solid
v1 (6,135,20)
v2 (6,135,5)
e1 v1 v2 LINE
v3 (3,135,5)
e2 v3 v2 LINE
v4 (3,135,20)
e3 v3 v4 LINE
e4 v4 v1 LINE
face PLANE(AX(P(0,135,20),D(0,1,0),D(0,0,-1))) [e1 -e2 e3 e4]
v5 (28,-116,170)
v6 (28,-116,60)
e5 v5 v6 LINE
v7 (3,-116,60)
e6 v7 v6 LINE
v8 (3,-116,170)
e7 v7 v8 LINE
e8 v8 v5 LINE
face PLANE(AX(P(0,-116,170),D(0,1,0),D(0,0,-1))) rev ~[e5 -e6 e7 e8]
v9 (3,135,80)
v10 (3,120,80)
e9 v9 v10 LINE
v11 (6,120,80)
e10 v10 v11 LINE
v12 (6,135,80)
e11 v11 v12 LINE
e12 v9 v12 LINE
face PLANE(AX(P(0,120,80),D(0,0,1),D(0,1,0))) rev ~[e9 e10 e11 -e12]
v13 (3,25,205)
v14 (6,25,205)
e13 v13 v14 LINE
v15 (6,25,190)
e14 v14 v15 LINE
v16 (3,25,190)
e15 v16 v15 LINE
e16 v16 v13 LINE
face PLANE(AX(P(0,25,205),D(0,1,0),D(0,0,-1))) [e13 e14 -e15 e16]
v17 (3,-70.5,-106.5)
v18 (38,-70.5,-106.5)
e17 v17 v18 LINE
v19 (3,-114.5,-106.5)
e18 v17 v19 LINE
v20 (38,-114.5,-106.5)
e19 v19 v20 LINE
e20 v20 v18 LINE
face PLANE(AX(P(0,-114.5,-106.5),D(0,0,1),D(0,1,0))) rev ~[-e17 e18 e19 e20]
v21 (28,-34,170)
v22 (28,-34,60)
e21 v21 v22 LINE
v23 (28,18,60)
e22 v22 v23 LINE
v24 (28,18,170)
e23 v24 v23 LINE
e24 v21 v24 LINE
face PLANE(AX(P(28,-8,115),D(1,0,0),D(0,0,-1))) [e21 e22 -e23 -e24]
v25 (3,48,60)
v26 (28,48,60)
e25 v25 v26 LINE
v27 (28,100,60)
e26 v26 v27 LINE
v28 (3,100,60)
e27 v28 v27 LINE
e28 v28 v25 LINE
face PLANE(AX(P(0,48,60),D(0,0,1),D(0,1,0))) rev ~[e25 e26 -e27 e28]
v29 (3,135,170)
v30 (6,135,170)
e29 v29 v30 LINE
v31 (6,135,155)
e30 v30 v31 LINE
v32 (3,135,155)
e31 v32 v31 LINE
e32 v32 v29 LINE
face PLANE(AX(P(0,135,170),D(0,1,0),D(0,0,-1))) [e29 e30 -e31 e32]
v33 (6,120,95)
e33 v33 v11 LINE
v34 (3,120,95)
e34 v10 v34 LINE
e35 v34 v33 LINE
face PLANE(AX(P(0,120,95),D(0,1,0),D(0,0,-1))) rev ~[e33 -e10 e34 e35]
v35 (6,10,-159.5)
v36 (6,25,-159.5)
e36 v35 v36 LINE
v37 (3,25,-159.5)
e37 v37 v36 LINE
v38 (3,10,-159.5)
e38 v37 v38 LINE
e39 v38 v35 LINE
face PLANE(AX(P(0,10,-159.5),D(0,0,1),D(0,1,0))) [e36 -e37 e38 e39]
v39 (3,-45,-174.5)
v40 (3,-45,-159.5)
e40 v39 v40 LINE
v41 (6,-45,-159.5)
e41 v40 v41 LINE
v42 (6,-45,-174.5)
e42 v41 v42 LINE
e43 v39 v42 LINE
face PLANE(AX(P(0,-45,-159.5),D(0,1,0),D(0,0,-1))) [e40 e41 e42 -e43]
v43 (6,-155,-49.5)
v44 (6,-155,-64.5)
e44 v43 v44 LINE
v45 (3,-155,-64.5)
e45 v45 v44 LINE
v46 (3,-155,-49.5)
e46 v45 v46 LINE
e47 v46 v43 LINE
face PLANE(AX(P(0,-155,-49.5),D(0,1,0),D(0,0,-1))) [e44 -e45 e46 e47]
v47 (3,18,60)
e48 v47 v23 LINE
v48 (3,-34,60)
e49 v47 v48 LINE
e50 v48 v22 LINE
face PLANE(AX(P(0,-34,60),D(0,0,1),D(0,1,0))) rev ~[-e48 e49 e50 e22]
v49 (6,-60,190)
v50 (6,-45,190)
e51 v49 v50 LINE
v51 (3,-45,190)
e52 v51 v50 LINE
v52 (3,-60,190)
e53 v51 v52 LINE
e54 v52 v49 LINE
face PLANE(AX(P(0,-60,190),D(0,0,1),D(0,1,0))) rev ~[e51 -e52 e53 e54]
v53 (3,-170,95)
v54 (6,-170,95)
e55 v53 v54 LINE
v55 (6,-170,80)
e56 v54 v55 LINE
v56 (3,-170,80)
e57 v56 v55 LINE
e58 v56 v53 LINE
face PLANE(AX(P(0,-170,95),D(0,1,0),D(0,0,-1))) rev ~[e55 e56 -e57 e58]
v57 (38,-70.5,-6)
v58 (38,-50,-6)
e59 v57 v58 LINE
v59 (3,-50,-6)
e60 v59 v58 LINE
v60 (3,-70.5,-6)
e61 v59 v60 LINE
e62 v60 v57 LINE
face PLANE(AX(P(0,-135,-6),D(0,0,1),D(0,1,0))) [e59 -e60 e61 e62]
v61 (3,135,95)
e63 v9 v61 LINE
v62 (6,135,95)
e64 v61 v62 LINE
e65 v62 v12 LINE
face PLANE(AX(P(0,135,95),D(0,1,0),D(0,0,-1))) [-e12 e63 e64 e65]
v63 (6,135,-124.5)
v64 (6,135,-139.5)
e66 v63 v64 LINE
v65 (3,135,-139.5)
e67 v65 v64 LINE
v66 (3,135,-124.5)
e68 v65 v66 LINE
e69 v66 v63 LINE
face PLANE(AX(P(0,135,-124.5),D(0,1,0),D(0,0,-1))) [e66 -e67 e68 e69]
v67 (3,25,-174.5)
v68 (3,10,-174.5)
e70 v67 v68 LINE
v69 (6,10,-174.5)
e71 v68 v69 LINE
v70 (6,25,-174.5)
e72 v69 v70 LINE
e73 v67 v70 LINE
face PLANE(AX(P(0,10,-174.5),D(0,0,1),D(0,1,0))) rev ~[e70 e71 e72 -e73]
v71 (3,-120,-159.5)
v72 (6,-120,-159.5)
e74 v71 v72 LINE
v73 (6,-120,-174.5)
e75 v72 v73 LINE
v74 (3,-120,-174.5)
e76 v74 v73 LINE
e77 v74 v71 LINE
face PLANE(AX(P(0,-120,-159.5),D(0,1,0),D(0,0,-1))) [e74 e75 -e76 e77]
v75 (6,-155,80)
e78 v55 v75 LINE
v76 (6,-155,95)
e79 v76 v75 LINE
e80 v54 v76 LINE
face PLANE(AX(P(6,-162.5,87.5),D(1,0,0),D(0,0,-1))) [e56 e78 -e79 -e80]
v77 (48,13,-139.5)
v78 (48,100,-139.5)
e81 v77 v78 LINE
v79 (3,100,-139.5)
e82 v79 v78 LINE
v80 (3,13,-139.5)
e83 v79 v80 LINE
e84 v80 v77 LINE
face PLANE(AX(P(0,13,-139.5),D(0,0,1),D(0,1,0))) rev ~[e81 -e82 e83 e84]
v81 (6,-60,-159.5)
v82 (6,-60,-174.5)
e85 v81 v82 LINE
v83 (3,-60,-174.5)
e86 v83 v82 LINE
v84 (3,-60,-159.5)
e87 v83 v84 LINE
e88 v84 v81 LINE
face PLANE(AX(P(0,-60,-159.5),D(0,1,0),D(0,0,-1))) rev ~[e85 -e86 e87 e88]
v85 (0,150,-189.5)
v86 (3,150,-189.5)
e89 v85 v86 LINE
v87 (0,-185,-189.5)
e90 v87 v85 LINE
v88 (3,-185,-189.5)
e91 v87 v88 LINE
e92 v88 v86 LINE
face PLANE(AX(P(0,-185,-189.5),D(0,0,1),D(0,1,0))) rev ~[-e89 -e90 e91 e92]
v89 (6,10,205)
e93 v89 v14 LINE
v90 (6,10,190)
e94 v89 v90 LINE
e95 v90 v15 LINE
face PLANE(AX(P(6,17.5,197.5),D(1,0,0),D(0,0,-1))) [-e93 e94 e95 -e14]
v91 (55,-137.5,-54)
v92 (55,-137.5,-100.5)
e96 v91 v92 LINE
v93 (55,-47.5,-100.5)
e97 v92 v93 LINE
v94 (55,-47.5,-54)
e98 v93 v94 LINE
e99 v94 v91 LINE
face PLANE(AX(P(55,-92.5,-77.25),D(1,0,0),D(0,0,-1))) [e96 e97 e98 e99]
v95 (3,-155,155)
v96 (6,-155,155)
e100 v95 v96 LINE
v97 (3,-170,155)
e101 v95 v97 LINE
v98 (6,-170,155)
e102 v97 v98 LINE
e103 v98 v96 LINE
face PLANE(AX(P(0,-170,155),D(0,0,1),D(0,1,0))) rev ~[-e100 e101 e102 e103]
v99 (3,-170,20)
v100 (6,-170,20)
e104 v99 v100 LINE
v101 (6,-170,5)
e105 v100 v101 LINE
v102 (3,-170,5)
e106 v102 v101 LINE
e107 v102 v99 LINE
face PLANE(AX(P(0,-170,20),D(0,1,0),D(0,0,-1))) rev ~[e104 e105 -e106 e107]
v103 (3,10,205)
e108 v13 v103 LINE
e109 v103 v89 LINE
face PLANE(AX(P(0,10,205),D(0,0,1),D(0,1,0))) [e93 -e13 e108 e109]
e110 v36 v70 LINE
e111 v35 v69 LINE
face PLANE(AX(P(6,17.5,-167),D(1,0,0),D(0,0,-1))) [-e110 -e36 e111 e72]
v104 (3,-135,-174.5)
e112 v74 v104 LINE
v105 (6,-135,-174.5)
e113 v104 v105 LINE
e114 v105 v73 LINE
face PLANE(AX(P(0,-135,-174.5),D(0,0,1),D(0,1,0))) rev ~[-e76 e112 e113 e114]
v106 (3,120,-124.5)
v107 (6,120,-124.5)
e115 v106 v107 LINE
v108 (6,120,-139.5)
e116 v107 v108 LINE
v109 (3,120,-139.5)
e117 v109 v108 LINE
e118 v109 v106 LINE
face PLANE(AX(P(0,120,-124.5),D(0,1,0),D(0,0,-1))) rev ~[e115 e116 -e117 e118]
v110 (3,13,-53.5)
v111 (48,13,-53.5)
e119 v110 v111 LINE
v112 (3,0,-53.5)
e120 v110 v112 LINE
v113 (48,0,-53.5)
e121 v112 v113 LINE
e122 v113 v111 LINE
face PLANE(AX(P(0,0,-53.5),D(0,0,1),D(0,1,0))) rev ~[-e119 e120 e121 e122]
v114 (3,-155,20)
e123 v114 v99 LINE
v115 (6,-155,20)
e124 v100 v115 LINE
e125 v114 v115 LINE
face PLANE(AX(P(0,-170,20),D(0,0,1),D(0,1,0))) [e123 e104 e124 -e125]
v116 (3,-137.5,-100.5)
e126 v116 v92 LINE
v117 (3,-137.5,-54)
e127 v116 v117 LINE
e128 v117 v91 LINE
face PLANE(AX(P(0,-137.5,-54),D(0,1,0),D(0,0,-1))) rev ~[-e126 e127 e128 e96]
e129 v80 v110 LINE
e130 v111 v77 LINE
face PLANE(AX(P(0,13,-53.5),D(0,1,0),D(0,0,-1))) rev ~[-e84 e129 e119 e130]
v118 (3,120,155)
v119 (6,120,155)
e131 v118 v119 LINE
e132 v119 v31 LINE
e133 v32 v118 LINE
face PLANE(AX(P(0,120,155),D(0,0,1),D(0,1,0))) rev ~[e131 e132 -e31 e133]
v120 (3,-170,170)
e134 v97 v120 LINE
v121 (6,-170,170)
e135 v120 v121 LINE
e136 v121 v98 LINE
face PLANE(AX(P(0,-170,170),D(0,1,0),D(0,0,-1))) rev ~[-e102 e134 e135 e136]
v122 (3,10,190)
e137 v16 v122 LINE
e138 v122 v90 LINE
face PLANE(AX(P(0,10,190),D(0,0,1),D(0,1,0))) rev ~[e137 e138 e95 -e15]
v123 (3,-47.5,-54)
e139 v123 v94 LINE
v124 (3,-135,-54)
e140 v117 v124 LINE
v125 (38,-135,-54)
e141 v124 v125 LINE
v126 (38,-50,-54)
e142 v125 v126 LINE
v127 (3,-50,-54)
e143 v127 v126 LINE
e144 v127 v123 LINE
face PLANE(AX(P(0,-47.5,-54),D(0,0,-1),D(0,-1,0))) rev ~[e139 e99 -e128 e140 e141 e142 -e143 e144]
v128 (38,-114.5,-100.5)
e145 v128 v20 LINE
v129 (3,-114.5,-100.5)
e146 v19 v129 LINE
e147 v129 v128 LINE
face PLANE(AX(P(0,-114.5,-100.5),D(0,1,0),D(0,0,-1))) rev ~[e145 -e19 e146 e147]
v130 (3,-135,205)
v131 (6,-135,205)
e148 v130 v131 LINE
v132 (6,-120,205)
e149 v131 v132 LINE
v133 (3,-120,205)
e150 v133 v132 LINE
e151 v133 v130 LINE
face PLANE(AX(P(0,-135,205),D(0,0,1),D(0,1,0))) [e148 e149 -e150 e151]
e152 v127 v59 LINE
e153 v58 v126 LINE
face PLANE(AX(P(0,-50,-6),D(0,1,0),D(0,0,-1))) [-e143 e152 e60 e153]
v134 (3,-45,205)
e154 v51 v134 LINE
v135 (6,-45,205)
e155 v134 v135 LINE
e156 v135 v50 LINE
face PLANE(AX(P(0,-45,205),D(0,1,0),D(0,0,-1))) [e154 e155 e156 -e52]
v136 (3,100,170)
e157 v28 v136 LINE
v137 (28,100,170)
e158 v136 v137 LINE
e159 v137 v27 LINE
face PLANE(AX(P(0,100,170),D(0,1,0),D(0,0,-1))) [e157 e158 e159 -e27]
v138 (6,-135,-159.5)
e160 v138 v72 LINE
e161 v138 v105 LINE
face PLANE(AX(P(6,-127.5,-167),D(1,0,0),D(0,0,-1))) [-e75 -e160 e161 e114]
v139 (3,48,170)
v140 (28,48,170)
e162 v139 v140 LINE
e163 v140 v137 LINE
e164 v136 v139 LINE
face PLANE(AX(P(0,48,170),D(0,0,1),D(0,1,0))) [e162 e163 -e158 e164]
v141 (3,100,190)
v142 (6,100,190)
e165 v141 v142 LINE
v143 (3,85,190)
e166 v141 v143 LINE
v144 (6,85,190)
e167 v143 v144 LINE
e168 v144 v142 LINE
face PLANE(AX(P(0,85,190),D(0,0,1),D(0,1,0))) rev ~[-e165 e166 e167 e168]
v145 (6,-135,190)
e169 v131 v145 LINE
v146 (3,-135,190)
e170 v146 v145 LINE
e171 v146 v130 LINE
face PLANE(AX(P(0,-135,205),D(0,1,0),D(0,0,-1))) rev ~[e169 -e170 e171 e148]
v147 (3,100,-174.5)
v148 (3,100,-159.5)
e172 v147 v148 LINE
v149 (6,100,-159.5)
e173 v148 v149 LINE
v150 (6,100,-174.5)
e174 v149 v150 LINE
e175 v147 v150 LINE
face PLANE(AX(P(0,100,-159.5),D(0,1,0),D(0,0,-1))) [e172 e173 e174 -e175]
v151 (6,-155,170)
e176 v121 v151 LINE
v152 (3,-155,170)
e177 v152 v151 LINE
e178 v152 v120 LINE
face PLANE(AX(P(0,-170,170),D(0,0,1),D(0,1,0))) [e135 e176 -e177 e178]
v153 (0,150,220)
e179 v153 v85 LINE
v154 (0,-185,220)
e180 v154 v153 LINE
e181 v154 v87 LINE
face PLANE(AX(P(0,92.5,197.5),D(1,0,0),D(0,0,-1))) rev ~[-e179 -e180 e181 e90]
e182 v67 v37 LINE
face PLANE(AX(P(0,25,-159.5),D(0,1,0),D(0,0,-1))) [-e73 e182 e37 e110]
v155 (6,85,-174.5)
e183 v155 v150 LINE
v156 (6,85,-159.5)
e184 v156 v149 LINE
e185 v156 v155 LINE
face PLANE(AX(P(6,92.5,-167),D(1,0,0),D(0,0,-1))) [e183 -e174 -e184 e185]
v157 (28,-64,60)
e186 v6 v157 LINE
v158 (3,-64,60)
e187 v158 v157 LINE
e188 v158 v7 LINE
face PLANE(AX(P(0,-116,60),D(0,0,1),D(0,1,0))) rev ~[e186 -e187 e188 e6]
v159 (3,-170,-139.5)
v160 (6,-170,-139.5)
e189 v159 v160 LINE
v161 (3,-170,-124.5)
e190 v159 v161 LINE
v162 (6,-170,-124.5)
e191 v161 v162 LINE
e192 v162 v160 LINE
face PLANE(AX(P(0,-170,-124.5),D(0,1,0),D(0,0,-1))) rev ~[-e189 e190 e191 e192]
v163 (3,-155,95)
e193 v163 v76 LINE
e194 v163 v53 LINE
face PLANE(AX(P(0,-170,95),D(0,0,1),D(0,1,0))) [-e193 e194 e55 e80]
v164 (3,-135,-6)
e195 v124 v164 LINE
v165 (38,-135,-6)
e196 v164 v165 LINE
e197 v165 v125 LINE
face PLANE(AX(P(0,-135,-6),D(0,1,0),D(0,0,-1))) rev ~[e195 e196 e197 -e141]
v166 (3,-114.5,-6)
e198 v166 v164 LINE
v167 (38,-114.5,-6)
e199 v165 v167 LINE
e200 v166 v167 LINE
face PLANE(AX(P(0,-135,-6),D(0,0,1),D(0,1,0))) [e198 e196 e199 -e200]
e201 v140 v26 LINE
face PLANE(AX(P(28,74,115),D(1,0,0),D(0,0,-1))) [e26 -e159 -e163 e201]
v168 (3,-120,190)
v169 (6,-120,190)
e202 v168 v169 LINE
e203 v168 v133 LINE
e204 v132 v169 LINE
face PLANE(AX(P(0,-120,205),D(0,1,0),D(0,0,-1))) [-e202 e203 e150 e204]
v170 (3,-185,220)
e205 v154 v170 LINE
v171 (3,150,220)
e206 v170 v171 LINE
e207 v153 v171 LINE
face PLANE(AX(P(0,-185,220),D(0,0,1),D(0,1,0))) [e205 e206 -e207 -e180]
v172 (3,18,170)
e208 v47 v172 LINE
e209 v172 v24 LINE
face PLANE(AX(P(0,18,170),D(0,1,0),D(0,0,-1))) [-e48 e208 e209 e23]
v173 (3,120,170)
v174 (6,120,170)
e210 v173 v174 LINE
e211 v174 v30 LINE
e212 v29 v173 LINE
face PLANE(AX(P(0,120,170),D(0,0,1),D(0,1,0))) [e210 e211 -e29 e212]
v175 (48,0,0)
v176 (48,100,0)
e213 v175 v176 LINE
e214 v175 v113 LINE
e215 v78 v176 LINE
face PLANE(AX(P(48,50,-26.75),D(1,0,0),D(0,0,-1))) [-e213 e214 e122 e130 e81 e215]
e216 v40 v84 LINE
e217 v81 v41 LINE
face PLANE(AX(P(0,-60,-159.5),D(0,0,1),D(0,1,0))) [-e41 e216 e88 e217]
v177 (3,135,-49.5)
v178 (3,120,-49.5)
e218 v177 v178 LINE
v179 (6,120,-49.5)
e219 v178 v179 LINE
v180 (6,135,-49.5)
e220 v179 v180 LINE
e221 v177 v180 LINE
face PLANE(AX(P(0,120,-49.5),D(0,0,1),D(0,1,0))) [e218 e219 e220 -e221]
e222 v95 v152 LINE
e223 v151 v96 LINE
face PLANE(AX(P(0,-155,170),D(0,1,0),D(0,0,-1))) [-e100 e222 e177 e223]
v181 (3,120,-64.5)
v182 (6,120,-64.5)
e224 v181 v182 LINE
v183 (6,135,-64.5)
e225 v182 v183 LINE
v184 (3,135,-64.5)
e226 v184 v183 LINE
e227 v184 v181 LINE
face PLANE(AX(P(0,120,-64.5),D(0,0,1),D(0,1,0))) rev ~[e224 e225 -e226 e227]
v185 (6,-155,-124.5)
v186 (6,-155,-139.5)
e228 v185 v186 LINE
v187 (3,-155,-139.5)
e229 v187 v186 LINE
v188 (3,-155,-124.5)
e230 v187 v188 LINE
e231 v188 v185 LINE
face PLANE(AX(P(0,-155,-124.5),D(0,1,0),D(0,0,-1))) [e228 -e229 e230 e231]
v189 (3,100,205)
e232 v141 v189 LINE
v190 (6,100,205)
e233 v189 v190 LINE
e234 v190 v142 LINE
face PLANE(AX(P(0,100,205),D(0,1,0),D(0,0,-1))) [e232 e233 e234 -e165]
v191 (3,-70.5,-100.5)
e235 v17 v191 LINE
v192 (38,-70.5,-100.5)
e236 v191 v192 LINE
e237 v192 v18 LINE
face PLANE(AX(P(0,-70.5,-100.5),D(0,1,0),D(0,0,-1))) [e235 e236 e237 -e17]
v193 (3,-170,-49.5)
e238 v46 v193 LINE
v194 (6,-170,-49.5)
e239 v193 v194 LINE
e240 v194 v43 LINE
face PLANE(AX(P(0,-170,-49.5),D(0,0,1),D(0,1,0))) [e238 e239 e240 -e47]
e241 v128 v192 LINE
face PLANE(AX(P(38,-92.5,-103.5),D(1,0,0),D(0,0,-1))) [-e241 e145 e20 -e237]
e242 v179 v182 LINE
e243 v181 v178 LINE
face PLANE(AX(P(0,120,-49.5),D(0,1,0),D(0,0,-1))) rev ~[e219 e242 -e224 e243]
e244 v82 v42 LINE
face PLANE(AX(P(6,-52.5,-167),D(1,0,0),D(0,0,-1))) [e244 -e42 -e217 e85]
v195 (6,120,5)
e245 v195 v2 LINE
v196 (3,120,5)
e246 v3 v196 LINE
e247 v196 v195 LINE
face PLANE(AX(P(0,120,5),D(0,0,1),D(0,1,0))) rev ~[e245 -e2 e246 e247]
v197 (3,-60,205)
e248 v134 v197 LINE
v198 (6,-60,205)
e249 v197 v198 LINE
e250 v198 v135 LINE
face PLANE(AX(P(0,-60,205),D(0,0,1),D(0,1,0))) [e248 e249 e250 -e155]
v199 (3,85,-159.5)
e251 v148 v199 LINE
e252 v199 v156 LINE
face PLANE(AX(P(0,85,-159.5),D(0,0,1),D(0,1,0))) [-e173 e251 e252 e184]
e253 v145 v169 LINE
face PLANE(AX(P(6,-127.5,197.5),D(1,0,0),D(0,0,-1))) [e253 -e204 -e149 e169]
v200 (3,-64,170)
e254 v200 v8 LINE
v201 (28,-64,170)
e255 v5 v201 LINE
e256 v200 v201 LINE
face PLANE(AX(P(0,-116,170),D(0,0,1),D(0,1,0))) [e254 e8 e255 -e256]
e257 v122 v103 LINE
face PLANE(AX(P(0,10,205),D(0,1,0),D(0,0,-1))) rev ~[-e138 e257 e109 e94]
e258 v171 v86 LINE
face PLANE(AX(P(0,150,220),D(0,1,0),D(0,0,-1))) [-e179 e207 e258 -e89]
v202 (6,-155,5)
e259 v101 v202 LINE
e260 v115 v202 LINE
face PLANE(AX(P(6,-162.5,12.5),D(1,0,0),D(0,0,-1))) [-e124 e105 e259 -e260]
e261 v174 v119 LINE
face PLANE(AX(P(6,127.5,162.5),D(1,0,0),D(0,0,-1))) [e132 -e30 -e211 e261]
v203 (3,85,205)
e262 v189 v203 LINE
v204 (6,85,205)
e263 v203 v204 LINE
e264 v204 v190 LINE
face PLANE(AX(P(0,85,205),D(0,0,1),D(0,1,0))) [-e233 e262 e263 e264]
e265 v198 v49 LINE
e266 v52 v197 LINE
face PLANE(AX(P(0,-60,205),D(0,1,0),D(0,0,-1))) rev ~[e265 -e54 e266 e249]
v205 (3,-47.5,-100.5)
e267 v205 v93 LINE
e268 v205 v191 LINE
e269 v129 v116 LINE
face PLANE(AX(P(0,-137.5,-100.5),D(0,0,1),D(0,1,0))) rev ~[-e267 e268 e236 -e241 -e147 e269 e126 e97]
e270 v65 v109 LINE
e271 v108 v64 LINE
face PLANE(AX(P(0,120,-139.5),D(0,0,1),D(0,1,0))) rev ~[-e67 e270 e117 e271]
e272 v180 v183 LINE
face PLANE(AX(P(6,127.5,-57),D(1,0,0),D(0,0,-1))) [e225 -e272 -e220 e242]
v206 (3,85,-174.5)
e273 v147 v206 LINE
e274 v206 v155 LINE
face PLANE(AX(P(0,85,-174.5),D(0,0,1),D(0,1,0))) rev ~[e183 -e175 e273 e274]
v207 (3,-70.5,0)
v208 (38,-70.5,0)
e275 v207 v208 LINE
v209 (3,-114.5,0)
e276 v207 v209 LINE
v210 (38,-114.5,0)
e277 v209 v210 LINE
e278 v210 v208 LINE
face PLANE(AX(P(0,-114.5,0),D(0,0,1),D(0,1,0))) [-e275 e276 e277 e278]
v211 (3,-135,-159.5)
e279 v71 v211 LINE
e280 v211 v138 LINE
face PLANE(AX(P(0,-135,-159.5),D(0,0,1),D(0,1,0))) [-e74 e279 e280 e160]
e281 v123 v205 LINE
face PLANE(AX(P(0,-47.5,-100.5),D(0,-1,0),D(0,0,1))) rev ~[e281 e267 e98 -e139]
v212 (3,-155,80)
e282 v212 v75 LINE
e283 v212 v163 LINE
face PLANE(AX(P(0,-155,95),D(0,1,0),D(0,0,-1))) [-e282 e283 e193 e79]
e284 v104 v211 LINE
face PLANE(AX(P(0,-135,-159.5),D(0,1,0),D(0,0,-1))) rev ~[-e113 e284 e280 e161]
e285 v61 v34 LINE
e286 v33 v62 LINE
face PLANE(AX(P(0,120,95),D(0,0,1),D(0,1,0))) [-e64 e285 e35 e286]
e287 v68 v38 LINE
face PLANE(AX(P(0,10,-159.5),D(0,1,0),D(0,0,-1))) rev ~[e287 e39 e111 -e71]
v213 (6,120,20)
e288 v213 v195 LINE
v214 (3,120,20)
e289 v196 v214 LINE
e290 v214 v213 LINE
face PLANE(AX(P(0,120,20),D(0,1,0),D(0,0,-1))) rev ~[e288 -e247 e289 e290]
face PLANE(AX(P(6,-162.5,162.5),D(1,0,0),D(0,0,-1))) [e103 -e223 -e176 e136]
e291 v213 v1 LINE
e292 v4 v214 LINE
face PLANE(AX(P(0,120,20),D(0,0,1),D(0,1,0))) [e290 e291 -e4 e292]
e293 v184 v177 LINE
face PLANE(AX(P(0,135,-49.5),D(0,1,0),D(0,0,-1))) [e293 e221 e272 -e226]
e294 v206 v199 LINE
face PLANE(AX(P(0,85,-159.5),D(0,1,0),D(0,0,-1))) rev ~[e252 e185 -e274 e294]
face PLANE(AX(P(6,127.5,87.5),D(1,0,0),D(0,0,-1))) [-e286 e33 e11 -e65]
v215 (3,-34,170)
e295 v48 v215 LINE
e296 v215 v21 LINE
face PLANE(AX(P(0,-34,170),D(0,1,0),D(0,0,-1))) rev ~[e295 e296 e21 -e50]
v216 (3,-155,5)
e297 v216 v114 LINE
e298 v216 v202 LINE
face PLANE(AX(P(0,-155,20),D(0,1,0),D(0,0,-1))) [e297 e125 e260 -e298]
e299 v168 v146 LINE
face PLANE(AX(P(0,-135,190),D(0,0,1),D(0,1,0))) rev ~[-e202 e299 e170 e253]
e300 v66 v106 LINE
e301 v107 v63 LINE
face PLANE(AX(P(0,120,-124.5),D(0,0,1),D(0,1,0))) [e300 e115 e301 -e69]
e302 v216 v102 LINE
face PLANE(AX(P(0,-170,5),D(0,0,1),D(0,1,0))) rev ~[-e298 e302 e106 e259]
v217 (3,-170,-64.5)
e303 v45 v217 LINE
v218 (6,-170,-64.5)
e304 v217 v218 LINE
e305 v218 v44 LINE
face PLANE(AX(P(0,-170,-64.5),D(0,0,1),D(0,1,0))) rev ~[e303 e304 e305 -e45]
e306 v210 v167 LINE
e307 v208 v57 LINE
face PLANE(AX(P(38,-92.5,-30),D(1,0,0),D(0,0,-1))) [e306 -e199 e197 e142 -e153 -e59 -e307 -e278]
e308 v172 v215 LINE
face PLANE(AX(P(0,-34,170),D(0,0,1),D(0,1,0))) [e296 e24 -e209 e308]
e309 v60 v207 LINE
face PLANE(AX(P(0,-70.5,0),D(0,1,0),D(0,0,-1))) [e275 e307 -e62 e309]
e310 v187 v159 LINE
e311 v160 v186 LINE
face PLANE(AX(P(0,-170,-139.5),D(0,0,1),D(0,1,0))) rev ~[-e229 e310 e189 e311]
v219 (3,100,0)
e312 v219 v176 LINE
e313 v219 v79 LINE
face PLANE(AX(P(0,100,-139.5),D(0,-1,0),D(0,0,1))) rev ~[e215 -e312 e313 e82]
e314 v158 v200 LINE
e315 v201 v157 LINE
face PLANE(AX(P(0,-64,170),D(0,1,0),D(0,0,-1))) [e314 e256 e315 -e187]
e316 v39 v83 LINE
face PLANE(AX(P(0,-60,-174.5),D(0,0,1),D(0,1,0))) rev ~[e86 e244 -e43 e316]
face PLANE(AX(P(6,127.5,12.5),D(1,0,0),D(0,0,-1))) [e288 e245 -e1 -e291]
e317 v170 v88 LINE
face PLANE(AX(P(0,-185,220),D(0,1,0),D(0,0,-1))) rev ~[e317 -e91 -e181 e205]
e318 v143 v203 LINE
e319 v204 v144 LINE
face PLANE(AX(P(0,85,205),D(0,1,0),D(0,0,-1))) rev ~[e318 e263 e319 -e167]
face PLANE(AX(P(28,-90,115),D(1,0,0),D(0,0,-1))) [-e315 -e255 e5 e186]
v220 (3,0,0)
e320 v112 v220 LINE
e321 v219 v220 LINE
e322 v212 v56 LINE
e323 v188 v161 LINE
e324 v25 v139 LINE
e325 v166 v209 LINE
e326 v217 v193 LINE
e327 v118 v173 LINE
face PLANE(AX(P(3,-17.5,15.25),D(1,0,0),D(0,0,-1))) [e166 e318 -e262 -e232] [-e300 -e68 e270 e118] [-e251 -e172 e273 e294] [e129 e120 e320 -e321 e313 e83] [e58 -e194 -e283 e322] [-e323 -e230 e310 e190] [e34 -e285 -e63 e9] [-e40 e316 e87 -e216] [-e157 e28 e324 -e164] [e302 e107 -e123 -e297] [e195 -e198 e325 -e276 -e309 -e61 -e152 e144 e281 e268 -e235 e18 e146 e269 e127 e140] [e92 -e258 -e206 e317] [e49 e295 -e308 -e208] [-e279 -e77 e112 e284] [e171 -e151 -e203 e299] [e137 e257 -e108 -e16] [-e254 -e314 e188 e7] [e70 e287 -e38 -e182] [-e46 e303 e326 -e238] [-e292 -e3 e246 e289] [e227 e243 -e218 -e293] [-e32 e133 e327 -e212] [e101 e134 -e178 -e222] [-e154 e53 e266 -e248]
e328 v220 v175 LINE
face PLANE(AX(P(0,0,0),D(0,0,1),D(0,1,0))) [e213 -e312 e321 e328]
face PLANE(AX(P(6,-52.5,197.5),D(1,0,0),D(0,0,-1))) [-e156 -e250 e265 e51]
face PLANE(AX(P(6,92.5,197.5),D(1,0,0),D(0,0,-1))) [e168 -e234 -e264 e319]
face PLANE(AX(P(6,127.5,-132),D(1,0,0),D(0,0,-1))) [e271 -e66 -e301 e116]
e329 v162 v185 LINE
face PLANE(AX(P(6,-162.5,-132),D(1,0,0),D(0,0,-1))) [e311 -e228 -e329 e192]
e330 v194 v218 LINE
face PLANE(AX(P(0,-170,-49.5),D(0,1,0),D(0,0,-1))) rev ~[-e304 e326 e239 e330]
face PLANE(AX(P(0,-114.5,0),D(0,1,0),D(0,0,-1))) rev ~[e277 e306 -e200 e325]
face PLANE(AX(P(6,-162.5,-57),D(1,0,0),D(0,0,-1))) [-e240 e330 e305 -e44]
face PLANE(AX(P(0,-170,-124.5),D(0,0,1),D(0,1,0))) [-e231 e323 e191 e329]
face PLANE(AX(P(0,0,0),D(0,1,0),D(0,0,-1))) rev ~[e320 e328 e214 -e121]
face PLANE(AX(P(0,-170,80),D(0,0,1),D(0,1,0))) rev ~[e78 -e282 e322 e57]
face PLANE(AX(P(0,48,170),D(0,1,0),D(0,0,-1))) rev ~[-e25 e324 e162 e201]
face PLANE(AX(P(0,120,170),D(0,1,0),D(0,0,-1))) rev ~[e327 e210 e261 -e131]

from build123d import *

# Parameters (mm, degrees)
SKETCH1_W           = 409.5
SKETCH1_H           = 335
BOSS_EXTRUDE1_DEPTH = 3
SKETCH1_3_W         = 110
SKETCH1_3_H         = 52
BOSS_EXTRUDE2_DEPTH = 28
BOSS_EXTRUDE3_DEPTH = 48
BOSS_EXTRUDE4_DEPTH = 38
BOSS_EXTRUDE5_DEPTH = 55
SKETCH1_9_W         = 6
SKETCH1_9_H         = 44
BOSS_EXTRUDE6_DEPTH = 38
SKETCH1_10_W        = 15
SKETCH1_10_H        = 15
BOSS_EXTRUDE7_DEPTH = 6


with BuildPart() as part:
    # Sketch1 → Boss-Extrude1 (new body)
    with BuildSketch(Plane(origin=(0, 0, 0), x_dir=(0, 0, -1), z_dir=(1, 0, 0))):
        with Locations((-15.25, -17.5)):
            Rectangle(SKETCH1_W, SKETCH1_H)
    extrude(amount=BOSS_EXTRUDE1_DEPTH)

    # Sketch1<3> → Boss-Extrude2 (add)
    with BuildSketch(Plane(origin=(0, 0, 0), x_dir=(0, 0, -1), z_dir=(1, 0, 0))):
        with Locations((-115, 74)):
            Rectangle(SKETCH1_3_W, SKETCH1_3_H)
        with Locations((-115, -8)):
            Rectangle(SKETCH1_3_W, SKETCH1_3_H)
        with Locations((-115, -90)):
            Rectangle(SKETCH1_3_W, SKETCH1_3_H)
    extrude(amount=BOSS_EXTRUDE2_DEPTH)

    # Sketch1<6> → Boss-Extrude3 (add)
    with BuildSketch(Plane(origin=(0, 0, 0), x_dir=(0, 0, -1), z_dir=(1, 0, 0))):
        Polygon((139.5, 100), (0, 100), (0, 0), (53.5, 0), (53.5, 13), (139.5, 13), align=None)
    extrude(amount=BOSS_EXTRUDE3_DEPTH)

    # Sketch1<7> → Boss-Extrude4 (add)
    with BuildSketch(Plane(origin=(0, 0, 0), x_dir=(0, 0, -1), z_dir=(1, 0, 0))):
        Polygon((54, -50), (6, -50), (6, -70.5), (6, -114.5), (6, -135), (54, -135), align=None)
    extrude(amount=BOSS_EXTRUDE4_DEPTH)

    # Sketch1<8> → Boss-Extrude5 (add)
    with BuildSketch(Plane(origin=(0, 0, 0), x_dir=(0, 0, -1), z_dir=(1, 0, 0))):
        Polygon((54, -47.5), (54, -50), (54, -135), (54, -137.5), (100.5, -137.5), (100.5, -114.5), (100.5, -70.5), (100.5, -47.5), align=None)
    extrude(amount=BOSS_EXTRUDE5_DEPTH)

    # Sketch1<9> → Boss-Extrude6 (add)
    with BuildSketch(Plane(origin=(0, 0, 0), x_dir=(0, 0, -1), z_dir=(1, 0, 0))):
        with Locations((3, -92.5)):
            Rectangle(SKETCH1_9_W, SKETCH1_9_H)
        with Locations((103.5, -92.5)):
            Rectangle(SKETCH1_9_W, SKETCH1_9_H)
    extrude(amount=BOSS_EXTRUDE6_DEPTH)

    # Sketch1<10> → Boss-Extrude7 (add)
    with BuildSketch(Plane(origin=(0, 0, 0), x_dir=(0, 0, -1), z_dir=(1, 0, 0))):
        with Locations((-197.5, 92.5)):
            Rectangle(SKETCH1_10_W, SKETCH1_10_H)
        with Locations((-197.5, -127.5)):
            Rectangle(SKETCH1_10_W, SKETCH1_10_H)
        with Locations((-197.5, -52.5)):
            Rectangle(SKETCH1_10_W, SKETCH1_10_H)
        with Locations((-197.5, 17.5)):
            Rectangle(SKETCH1_10_W, SKETCH1_10_H)
        with Locations((-162.5, -162.5)):
            Rectangle(SKETCH1_10_W, SKETCH1_10_H)
        with Locations((-87.5, -162.5)):
            Rectangle(SKETCH1_10_W, SKETCH1_10_H)
        with Locations((-12.5, -162.5)):
            Rectangle(SKETCH1_10_W, SKETCH1_10_H)
        with Locations((132, -162.5)):
            Rectangle(SKETCH1_10_W, SKETCH1_10_H)
        with Locations((57, -162.5)):
            Rectangle(SKETCH1_10_W, SKETCH1_10_H)
        with Locations((167, 92.5)):
            Rectangle(SKETCH1_10_W, SKETCH1_10_H)
        with Locations((167, 17.5)):
            Rectangle(SKETCH1_10_W, SKETCH1_10_H)
        with Locations((167, -52.5)):
            Rectangle(SKETCH1_10_W, SKETCH1_10_H)
        with Locations((167, -127.5)):
            Rectangle(SKETCH1_10_W, SKETCH1_10_H)
        with Locations((-162.5, 127.5)):
            Rectangle(SKETCH1_10_W, SKETCH1_10_H)
        with Locations((-87.5, 127.5)):
            Rectangle(SKETCH1_10_W, SKETCH1_10_H)
        with Locations((57, 127.5)):
            Rectangle(SKETCH1_10_W, SKETCH1_10_H)
        with Locations((132, 127.5)):
            Rectangle(SKETCH1_10_W, SKETCH1_10_H)
        with Locations((-12.5, 127.5)):
            Rectangle(SKETCH1_10_W, SKETCH1_10_H)
    extrude(amount=BOSS_EXTRUDE7_DEPTH)


solid = part.part
